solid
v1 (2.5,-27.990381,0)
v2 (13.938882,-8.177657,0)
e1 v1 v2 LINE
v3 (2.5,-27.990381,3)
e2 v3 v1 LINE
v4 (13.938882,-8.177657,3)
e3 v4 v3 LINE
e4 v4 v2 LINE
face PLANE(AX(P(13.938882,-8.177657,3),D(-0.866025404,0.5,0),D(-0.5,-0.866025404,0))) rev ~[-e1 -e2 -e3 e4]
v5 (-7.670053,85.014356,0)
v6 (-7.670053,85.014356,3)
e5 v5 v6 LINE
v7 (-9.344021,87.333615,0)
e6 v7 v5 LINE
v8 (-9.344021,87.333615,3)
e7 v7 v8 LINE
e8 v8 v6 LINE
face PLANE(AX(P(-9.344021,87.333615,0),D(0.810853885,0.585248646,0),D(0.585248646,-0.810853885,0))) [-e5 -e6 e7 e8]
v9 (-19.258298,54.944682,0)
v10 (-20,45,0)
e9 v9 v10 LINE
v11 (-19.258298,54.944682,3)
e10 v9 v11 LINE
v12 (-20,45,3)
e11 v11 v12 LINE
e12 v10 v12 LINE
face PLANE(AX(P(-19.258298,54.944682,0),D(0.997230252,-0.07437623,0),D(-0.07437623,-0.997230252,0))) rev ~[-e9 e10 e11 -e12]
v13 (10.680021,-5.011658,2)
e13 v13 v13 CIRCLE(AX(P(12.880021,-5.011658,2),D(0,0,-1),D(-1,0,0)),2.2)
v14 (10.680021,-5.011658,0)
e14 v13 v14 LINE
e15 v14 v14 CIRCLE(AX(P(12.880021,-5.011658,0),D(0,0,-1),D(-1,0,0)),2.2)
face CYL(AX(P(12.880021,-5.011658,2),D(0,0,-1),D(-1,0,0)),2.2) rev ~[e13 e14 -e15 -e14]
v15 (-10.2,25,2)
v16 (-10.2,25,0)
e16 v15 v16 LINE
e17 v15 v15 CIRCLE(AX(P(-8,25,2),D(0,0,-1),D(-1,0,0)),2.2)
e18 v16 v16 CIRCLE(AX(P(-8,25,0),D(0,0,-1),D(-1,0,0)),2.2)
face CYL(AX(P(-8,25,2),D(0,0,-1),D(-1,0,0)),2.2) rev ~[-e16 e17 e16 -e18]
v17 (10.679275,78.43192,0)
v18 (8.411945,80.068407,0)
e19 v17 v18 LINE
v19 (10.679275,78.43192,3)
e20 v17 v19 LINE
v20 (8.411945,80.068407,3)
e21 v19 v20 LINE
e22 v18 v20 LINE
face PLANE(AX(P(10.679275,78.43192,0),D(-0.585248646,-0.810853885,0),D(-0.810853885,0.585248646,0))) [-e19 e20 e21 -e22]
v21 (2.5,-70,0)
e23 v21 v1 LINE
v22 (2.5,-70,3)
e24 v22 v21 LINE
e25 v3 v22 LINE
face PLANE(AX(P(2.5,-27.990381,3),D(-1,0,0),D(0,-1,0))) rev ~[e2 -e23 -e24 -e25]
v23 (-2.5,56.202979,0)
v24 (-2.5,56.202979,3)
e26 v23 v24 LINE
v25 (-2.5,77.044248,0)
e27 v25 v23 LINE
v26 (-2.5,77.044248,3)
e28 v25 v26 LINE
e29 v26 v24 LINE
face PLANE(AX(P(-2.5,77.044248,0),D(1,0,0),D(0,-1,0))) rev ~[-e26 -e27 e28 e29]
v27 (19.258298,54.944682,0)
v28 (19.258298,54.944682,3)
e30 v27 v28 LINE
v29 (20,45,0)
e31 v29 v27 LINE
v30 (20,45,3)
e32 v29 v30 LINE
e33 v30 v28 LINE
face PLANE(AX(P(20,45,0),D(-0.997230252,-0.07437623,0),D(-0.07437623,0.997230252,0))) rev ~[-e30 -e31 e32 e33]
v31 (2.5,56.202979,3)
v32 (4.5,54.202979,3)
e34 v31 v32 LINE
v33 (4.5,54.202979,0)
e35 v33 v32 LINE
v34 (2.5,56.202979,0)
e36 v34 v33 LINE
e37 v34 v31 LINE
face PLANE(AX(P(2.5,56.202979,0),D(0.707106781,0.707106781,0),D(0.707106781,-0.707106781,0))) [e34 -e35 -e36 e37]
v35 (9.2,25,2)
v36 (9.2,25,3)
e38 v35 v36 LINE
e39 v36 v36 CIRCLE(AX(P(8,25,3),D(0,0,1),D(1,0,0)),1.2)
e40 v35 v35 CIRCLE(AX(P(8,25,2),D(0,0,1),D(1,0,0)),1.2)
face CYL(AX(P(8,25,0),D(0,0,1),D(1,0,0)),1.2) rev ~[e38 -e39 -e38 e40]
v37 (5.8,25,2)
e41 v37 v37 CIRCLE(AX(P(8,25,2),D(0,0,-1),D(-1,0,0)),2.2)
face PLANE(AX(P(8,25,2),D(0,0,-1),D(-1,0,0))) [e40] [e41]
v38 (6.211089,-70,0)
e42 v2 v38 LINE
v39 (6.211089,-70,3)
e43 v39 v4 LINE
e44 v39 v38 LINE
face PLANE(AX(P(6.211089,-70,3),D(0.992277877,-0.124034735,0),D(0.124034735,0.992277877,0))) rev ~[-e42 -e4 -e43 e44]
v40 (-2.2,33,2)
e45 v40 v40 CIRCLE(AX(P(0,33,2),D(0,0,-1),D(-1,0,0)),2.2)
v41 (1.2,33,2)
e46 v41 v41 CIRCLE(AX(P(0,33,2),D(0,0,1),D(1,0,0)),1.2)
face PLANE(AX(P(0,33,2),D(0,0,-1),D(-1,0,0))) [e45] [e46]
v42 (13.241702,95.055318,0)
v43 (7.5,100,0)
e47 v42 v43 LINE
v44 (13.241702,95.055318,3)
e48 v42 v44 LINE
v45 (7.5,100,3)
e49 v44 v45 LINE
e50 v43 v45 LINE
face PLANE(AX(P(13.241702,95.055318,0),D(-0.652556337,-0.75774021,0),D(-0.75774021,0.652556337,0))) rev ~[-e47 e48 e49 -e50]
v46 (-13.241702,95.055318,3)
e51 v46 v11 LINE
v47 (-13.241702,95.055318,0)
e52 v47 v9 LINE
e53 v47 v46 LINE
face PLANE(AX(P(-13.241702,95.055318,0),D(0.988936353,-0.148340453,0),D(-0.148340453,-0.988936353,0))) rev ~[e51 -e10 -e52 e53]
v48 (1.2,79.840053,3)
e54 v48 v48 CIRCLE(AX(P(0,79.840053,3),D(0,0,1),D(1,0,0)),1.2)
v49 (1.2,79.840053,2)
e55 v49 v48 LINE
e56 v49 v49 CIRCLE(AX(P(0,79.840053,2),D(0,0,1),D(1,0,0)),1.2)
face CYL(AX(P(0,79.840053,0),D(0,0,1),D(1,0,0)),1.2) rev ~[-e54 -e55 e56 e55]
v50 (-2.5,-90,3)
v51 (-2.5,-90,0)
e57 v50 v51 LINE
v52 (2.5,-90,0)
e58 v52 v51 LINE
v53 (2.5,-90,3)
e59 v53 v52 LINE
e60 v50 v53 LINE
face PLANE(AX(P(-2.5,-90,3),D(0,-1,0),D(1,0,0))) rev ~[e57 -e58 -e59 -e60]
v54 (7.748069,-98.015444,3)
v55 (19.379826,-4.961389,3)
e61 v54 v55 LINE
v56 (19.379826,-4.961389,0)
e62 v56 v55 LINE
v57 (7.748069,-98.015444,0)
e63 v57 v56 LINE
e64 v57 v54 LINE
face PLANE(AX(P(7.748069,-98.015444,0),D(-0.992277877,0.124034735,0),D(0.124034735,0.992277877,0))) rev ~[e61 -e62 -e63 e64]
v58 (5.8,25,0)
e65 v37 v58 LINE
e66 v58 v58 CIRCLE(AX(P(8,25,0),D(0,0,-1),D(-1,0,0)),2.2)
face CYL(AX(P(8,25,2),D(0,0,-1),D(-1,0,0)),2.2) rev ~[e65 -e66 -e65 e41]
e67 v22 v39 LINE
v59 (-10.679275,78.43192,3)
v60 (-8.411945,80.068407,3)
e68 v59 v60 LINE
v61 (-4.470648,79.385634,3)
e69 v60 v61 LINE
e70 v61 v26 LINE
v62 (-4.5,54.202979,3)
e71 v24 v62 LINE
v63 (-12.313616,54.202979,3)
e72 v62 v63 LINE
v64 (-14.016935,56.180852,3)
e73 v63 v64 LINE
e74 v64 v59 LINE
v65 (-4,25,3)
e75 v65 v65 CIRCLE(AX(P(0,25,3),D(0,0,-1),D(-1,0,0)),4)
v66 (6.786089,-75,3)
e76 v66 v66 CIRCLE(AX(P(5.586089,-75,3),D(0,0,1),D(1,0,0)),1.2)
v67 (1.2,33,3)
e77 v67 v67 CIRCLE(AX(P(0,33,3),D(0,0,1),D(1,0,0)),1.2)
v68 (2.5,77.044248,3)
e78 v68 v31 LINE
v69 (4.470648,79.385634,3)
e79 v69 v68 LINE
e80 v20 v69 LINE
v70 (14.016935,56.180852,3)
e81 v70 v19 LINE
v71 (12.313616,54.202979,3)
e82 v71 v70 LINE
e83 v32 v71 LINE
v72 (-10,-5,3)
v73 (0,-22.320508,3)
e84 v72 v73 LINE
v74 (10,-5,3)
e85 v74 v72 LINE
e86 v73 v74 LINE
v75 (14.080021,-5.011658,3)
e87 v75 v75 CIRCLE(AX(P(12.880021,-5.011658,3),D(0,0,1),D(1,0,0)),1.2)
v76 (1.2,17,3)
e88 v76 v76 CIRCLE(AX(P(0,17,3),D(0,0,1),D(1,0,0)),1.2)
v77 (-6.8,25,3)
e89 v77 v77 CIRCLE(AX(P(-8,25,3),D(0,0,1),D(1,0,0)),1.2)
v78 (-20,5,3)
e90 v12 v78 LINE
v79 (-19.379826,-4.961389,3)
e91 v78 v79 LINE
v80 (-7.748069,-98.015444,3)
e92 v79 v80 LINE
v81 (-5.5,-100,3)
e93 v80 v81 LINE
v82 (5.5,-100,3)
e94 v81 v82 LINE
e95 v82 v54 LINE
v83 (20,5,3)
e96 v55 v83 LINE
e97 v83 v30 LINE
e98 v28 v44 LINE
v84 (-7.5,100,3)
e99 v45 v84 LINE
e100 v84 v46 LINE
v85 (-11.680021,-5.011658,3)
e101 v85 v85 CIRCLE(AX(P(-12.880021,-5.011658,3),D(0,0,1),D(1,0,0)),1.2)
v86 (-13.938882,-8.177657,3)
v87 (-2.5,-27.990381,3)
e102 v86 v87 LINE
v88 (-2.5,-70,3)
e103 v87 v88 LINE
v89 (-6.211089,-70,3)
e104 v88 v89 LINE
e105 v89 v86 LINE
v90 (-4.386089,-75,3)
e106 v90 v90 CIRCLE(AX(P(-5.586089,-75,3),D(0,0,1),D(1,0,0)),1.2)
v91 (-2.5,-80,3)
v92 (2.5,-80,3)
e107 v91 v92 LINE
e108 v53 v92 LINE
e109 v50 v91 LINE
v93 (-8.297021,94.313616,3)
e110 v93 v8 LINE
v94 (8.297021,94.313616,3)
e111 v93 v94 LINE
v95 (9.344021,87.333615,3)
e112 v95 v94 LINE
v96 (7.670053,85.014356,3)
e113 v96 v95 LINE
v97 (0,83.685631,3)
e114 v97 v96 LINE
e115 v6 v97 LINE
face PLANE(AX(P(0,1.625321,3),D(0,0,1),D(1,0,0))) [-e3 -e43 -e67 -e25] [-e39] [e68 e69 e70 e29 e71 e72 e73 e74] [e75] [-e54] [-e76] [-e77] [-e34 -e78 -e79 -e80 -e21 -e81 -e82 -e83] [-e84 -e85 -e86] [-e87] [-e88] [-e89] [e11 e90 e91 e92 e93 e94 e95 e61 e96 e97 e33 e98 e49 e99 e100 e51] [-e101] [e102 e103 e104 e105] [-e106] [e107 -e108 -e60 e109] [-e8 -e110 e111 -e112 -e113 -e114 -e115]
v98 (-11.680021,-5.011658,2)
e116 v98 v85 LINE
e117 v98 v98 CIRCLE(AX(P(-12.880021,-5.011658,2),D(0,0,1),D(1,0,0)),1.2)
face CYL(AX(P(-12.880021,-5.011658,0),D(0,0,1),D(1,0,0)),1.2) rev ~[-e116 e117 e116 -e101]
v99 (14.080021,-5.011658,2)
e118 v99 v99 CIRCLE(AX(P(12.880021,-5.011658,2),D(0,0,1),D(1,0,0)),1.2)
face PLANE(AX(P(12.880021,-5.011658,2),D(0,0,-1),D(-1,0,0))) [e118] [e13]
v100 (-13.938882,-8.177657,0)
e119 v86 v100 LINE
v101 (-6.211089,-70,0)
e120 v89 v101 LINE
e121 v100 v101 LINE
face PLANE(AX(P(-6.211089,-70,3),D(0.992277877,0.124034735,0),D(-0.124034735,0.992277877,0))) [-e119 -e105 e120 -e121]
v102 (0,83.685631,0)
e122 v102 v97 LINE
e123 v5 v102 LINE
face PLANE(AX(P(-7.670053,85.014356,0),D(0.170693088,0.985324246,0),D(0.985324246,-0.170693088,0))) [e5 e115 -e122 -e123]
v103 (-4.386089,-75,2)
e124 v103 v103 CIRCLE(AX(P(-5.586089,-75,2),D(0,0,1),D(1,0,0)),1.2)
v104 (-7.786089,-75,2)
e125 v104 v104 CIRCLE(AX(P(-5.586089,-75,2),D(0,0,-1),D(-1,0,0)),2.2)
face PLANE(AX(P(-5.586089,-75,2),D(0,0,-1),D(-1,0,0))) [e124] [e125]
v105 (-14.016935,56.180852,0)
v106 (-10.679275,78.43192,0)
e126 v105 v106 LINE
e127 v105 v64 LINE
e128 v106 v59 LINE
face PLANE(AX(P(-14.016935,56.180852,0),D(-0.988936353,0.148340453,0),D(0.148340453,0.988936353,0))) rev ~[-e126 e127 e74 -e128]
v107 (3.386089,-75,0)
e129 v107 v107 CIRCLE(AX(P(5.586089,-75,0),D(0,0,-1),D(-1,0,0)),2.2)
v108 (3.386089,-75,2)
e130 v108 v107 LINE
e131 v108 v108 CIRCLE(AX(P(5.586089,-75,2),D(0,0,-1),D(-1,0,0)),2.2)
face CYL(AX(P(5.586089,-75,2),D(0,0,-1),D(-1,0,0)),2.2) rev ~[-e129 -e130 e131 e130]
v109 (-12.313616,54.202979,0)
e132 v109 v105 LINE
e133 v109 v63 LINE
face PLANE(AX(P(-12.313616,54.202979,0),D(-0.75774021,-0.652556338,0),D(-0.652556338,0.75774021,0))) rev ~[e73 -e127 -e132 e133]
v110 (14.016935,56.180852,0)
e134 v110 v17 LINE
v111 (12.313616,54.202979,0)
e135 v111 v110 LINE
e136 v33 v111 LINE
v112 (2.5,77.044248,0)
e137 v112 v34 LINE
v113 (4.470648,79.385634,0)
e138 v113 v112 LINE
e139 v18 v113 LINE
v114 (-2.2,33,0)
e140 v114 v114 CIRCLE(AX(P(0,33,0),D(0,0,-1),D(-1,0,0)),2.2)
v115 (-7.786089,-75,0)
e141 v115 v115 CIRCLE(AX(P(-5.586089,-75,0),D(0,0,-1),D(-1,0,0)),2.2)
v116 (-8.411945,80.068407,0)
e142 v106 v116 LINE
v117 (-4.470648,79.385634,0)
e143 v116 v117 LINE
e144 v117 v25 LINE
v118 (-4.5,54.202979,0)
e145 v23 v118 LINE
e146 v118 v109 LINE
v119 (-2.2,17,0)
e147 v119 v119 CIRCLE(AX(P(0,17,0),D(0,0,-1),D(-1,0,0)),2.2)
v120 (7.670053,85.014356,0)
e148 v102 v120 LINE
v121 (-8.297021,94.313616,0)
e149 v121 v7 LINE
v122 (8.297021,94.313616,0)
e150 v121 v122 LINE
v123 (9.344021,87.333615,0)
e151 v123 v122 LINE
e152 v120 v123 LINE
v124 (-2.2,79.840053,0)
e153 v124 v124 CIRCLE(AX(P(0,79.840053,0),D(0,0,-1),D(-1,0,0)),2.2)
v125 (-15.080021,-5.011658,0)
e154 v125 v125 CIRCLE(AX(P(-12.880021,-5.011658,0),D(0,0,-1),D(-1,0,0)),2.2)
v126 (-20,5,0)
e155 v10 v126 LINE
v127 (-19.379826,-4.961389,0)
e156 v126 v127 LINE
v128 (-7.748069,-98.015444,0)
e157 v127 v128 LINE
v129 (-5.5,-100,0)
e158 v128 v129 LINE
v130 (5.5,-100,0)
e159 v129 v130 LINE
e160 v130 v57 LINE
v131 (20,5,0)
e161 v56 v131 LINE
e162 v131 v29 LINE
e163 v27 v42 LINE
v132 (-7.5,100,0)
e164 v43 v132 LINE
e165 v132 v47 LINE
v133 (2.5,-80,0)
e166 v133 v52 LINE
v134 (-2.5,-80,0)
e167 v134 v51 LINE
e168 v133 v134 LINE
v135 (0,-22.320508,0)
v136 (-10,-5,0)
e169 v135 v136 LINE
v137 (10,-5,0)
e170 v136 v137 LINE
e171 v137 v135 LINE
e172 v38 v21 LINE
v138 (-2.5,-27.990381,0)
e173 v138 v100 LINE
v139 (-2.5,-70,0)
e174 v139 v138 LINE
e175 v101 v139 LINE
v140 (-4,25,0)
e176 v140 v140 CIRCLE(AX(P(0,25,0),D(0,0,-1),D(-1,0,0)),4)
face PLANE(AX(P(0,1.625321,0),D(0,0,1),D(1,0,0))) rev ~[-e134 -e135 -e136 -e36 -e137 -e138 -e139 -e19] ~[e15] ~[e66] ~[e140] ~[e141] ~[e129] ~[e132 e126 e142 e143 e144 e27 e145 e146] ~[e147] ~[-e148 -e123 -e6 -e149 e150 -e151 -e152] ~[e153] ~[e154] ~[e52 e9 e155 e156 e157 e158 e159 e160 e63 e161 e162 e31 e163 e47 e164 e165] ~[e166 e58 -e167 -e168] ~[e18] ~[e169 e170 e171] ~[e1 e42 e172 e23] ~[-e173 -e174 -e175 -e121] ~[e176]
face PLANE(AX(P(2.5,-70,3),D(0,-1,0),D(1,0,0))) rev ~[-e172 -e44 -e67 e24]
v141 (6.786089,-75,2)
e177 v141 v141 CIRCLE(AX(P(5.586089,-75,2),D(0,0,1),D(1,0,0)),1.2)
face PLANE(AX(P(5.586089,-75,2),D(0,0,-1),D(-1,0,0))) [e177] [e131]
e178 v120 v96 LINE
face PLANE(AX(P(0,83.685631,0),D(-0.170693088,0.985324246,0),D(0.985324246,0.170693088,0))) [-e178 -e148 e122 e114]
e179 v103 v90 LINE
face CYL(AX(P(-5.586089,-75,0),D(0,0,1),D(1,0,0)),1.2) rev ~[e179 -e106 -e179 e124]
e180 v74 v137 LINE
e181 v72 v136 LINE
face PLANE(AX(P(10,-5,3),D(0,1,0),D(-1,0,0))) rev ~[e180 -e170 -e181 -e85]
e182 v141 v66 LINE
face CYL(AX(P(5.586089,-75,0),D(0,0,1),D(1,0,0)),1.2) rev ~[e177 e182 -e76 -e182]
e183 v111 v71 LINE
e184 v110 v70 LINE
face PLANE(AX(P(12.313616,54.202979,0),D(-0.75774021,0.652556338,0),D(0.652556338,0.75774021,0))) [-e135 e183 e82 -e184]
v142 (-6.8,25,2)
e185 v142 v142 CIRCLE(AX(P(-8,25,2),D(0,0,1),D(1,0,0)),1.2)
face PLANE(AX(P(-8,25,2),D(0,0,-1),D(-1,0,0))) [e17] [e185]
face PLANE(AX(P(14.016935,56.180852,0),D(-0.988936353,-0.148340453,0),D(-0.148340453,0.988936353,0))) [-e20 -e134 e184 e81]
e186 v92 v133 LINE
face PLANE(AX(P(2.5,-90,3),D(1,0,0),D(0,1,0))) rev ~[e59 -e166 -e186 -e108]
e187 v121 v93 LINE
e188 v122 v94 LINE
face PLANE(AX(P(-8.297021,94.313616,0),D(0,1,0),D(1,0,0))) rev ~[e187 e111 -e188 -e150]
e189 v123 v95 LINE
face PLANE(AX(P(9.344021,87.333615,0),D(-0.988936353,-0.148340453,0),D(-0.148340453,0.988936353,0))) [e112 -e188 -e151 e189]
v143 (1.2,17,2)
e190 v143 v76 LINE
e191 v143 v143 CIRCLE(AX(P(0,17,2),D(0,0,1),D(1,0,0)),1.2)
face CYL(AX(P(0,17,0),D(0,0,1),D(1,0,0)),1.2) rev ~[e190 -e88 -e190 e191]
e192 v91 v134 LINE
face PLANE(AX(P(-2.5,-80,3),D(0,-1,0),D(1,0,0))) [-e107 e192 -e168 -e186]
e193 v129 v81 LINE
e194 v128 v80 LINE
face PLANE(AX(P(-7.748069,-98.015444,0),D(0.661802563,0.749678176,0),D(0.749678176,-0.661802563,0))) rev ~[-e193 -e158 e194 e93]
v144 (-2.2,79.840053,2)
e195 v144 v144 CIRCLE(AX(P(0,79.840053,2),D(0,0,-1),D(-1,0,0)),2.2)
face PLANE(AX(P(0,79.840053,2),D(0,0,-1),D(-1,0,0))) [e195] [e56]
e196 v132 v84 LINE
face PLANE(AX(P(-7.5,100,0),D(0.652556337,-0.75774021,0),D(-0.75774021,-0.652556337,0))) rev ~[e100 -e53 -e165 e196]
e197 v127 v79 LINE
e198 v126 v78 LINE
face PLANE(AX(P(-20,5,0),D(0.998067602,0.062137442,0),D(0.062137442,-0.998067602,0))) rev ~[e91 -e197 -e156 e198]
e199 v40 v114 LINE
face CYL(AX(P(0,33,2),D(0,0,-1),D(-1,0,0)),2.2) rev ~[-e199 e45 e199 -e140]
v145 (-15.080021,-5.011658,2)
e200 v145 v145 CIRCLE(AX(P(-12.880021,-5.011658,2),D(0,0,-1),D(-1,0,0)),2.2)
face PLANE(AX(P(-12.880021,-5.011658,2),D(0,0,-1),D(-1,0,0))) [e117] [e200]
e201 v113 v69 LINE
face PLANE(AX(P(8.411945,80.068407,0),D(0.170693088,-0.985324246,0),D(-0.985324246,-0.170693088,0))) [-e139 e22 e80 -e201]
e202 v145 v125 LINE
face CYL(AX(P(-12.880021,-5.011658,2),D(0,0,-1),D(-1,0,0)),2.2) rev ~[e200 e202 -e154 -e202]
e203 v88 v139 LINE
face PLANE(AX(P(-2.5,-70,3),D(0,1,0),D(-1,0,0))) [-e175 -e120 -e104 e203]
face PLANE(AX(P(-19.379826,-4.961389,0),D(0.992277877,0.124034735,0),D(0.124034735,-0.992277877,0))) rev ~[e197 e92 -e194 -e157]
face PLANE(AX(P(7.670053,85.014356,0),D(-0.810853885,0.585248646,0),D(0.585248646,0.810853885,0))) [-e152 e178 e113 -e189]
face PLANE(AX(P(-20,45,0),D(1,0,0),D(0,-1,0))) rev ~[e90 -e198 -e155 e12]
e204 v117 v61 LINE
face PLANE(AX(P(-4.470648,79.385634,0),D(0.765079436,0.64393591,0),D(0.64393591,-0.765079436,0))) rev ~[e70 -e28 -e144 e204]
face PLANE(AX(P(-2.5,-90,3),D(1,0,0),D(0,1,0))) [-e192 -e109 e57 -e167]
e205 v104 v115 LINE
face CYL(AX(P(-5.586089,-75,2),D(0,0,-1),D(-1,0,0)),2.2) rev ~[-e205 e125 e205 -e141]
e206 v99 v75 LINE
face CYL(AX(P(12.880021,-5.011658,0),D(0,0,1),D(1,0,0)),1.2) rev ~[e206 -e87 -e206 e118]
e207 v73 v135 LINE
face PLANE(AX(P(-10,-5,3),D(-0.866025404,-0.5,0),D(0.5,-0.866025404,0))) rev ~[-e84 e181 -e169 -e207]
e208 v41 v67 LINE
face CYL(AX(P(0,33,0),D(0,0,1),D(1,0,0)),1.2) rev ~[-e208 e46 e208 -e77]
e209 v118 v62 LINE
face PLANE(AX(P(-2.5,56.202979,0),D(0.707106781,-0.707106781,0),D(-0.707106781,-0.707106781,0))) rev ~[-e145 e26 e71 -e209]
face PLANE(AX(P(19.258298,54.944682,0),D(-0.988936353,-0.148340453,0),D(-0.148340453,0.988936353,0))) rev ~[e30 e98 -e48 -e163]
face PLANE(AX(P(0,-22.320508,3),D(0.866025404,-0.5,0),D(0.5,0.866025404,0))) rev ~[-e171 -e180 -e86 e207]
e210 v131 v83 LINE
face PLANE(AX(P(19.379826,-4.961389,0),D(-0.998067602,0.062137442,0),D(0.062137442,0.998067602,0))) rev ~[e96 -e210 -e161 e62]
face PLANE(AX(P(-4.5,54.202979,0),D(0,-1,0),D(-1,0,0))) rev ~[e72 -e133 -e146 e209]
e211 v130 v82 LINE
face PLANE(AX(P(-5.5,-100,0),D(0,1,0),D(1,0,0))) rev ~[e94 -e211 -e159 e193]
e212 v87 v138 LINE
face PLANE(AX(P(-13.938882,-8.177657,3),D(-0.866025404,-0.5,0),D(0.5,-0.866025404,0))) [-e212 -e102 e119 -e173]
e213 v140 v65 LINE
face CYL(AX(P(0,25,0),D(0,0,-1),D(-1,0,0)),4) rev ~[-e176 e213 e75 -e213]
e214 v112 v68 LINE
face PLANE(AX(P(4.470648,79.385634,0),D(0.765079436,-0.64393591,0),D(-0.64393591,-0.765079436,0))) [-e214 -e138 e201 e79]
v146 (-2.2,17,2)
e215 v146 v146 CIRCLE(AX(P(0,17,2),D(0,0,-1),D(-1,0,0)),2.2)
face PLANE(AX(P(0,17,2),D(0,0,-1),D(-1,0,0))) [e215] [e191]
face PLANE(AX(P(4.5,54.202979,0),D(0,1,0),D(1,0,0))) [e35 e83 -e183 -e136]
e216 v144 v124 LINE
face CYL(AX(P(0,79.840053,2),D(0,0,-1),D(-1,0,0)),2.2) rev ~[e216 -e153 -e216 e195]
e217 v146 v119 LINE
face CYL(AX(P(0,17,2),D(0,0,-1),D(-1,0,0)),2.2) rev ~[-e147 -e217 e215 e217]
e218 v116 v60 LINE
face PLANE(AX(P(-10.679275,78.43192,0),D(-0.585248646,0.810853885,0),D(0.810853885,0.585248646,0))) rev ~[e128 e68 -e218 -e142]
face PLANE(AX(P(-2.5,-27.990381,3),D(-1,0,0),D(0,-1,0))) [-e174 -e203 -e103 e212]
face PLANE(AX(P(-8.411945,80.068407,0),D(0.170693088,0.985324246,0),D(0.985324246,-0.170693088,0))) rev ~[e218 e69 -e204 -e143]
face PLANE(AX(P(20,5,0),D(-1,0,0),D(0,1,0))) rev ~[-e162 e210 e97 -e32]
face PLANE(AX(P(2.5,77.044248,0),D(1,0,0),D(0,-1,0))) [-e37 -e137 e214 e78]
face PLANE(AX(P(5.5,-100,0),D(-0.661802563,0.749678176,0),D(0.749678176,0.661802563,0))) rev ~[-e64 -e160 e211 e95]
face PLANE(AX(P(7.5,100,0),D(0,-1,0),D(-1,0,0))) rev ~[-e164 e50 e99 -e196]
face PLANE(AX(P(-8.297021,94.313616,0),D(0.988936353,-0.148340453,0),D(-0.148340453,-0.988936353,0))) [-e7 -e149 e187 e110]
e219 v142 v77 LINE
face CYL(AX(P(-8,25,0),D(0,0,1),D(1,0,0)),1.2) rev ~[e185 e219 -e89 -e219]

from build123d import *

# Parameters (mm, degrees)
EXTRUDE_1_DEPTH              = 3
CUT_EXTRUDE_1_REACH          = 104.025
SKETCH_2_W                   = 5
SKETCH_2_H                   = 10
HOLE_WIZARD_M2_1_D           = 2.4
HOLE_WIZARD_M2_1_CBORE_D     = 4.4
HOLE_WIZARD_M2_1_CBORE_DEPTH = 2
CUT_EXTRUDE_2_REACH          = 104.025
SKETCH_5_R                   = 4
HOLE_WIZARD_M2_2_D           = 2.4
HOLE_WIZARD_M2_2_CBORE_D     = 4.4
HOLE_WIZARD_M2_2_CBORE_DEPTH = 2
HOLE_WIZARD_M2_3_D           = 2.4
HOLE_WIZARD_M2_3_CBORE_D     = 4.4
HOLE_WIZARD_M2_3_CBORE_DEPTH = 2
CUT_EXTRUDE_3_DEPTH          = 3
HOLE_WIZARD_M2_5_D           = 2.4
HOLE_WIZARD_M2_5_CBORE_D     = 4.4
HOLE_WIZARD_M2_5_CBORE_DEPTH = 2


with BuildPart() as part:
    # 草图1 → 凸台-拉伸1 (new body)
    with BuildSketch(Plane.XY):
        Polygon((20, 5), (20, 45), (19.258297735, 54.944681764), (13.241702265, 95.055318236), (7.5, 100), (-7.5, 100), (-13.241702265, 95.055318236), (-19.258297735, 54.944681764), (-20, 45), (-20, 5), (-19.379826327, -4.961389384), (-7.748069469, -98.015444247), (-5.5, -100), (5.5, -100), (7.748069469, -98.015444247), (19.379826327, -4.961389384), align=None)
    extrude(amount=EXTRUDE_1_DEPTH)

    # 草图2 → 切除-拉伸1 (cut, up to next)
    with BuildSketch(Plane.XY.offset(3), mode=Mode.PRIVATE) as cut_extrude_1_sk1:
        Polygon((10, -5), (-10, -5), (0, -22.320508076), align=None)
    cut_extrude_1_tool1 = extrude(cut_extrude_1_sk1.sketch, amount=-CUT_EXTRUDE_1_REACH, mode=Mode.PRIVATE) & part.part
    # 草图2 → 切除-拉伸1 (cut, up to next)
    with BuildSketch(Plane.XY.offset(3), mode=Mode.PRIVATE) as cut_extrude_1_sk2:
        Polygon((6.211088907, -70), (13.938881842, -8.177656525), (2.5, -27.990381057), (2.5, -70), align=None)
    cut_extrude_1_tool2 = extrude(cut_extrude_1_sk2.sketch, amount=-CUT_EXTRUDE_1_REACH, mode=Mode.PRIVATE) & part.part
    # 草图2 → 切除-拉伸1 (cut, up to next)
    with BuildSketch(Plane.XY.offset(3), mode=Mode.PRIVATE) as cut_extrude_1_sk3:
        Polygon((-13.938881842, -8.177656525), (-2.5, -27.990381057), (-2.5, -70), (-6.211088907, -70), align=None)
    cut_extrude_1_tool3 = extrude(cut_extrude_1_sk3.sketch, amount=-CUT_EXTRUDE_1_REACH, mode=Mode.PRIVATE) & part.part
    # 草图2 → 切除-拉伸1 (cut, up to next)
    with BuildSketch(Plane.XY.offset(3), mode=Mode.PRIVATE) as cut_extrude_1_sk4:
        with Locations((0, -85)):
            Rectangle(SKETCH_2_W, SKETCH_2_H)
    cut_extrude_1_tool4 = extrude(cut_extrude_1_sk4.sketch, amount=-CUT_EXTRUDE_1_REACH, mode=Mode.PRIVATE) & part.part
    add(cut_extrude_1_tool1.solids().sort_by_distance((0, -10.773503, 3))[0], mode=Mode.SUBTRACT)
    add(cut_extrude_1_tool2.solids().sort_by_distance((6.712708, -39.914502, 3))[0], mode=Mode.SUBTRACT)
    add(cut_extrude_1_tool3.solids().sort_by_distance((-6.712708, -39.914502, 3))[0], mode=Mode.SUBTRACT)
    add(cut_extrude_1_tool4.solids().sort_by_distance((0, -85, 3))[0], mode=Mode.SUBTRACT)

    # M2 凹头盖螺钉的柱形沉头孔1 (through all)
    with Locations(Plane(origin=(5.586088907, -75, 0), x_dir=(-1, 0, 0), z_dir=(0, 0, -1))):
        with Locations((0, 0), (11.172177814, 0)):
            CounterBoreHole(HOLE_WIZARD_M2_1_D / 2, HOLE_WIZARD_M2_1_CBORE_D / 2, HOLE_WIZARD_M2_1_CBORE_DEPTH)

    # 草图5 → 切除-拉伸2 (cut, up to next)
    with BuildSketch(Plane(origin=(0, 0, 0), x_dir=(-1, 0, 0), z_dir=(0, 0, -1)), mode=Mode.PRIVATE) as cut_extrude_2_sk1:
        with Locations((0, 25)):
            Circle(SKETCH_5_R)
    cut_extrude_2_tool1 = extrude(cut_extrude_2_sk1.sketch, amount=-CUT_EXTRUDE_2_REACH, mode=Mode.PRIVATE) & part.part
    add(cut_extrude_2_tool1.solids().sort_by_distance((0, 25, 0))[0], mode=Mode.SUBTRACT)

    # M2 凹头盖螺钉的柱形沉头孔2 (through all)
    with Locations(Plane(origin=(8, 25, 0), x_dir=(-1, 0, 0), z_dir=(0, 0, -1))):
        with Locations((0, 0), (8, 8), (16, 0), (8, -8)):
            CounterBoreHole(HOLE_WIZARD_M2_2_D / 2, HOLE_WIZARD_M2_2_CBORE_D / 2, HOLE_WIZARD_M2_2_CBORE_DEPTH)

    # M2 凹头盖螺钉的柱形沉头孔3 (through all)
    with Locations(Plane(origin=(12.880020708, -5.011657807, 0), x_dir=(-1, 0, 0), z_dir=(0, 0, -1))):
        with Locations((0, 0), (25.760041416, 0)):
            CounterBoreHole(HOLE_WIZARD_M2_3_D / 2, HOLE_WIZARD_M2_3_CBORE_D / 2, HOLE_WIZARD_M2_3_CBORE_DEPTH)

    # 草图10 → 切除-拉伸3 (cut)
    with BuildSketch(Plane(origin=(0, 0, 0), x_dir=(-1, 0, 0), z_dir=(0, 0, -1))):
        Polygon((-14.016935065, 56.180852205), (-10.679274874, 78.431920145), (-8.411945476, 80.068406675), (-4.470648492, 79.385634325), (-2.5, 77.04424815), (-2.5, 56.2029795), (-4.5, 54.2029795), (-12.313615971, 54.2029795), align=None)
        Polygon((-9.344020618, 87.333615184), (-8.2970205, 94.313615971), (0, 94.313615971), (8.2970205, 94.313615971), (9.344020618, 87.333615184), (7.670053032, 85.014356303), (0, 83.685631227), (-7.670053032, 85.014356303), align=None)
        Polygon((4.5, 54.2029795), (12.313615971, 54.2029795), (14.016935065, 56.180852205), (10.679274874, 78.431920145), (8.411945476, 80.068406675), (4.470648492, 79.385634325), (2.5, 77.04424815), (2.5, 56.2029795), align=None)
    extrude(amount=-CUT_EXTRUDE_3_DEPTH, mode=Mode.SUBTRACT)

    # M2 凹头盖螺钉的柱形沉头孔5 (through all)
    with Locations(Plane(origin=(0, 79.840052868, 0), x_dir=(-1, 0, 0), z_dir=(0, 0, -1))):
        with Locations((0, 0)):
            CounterBoreHole(HOLE_WIZARD_M2_5_D / 2, HOLE_WIZARD_M2_5_CBORE_D / 2, HOLE_WIZARD_M2_5_CBORE_DEPTH)


solid = part.part
